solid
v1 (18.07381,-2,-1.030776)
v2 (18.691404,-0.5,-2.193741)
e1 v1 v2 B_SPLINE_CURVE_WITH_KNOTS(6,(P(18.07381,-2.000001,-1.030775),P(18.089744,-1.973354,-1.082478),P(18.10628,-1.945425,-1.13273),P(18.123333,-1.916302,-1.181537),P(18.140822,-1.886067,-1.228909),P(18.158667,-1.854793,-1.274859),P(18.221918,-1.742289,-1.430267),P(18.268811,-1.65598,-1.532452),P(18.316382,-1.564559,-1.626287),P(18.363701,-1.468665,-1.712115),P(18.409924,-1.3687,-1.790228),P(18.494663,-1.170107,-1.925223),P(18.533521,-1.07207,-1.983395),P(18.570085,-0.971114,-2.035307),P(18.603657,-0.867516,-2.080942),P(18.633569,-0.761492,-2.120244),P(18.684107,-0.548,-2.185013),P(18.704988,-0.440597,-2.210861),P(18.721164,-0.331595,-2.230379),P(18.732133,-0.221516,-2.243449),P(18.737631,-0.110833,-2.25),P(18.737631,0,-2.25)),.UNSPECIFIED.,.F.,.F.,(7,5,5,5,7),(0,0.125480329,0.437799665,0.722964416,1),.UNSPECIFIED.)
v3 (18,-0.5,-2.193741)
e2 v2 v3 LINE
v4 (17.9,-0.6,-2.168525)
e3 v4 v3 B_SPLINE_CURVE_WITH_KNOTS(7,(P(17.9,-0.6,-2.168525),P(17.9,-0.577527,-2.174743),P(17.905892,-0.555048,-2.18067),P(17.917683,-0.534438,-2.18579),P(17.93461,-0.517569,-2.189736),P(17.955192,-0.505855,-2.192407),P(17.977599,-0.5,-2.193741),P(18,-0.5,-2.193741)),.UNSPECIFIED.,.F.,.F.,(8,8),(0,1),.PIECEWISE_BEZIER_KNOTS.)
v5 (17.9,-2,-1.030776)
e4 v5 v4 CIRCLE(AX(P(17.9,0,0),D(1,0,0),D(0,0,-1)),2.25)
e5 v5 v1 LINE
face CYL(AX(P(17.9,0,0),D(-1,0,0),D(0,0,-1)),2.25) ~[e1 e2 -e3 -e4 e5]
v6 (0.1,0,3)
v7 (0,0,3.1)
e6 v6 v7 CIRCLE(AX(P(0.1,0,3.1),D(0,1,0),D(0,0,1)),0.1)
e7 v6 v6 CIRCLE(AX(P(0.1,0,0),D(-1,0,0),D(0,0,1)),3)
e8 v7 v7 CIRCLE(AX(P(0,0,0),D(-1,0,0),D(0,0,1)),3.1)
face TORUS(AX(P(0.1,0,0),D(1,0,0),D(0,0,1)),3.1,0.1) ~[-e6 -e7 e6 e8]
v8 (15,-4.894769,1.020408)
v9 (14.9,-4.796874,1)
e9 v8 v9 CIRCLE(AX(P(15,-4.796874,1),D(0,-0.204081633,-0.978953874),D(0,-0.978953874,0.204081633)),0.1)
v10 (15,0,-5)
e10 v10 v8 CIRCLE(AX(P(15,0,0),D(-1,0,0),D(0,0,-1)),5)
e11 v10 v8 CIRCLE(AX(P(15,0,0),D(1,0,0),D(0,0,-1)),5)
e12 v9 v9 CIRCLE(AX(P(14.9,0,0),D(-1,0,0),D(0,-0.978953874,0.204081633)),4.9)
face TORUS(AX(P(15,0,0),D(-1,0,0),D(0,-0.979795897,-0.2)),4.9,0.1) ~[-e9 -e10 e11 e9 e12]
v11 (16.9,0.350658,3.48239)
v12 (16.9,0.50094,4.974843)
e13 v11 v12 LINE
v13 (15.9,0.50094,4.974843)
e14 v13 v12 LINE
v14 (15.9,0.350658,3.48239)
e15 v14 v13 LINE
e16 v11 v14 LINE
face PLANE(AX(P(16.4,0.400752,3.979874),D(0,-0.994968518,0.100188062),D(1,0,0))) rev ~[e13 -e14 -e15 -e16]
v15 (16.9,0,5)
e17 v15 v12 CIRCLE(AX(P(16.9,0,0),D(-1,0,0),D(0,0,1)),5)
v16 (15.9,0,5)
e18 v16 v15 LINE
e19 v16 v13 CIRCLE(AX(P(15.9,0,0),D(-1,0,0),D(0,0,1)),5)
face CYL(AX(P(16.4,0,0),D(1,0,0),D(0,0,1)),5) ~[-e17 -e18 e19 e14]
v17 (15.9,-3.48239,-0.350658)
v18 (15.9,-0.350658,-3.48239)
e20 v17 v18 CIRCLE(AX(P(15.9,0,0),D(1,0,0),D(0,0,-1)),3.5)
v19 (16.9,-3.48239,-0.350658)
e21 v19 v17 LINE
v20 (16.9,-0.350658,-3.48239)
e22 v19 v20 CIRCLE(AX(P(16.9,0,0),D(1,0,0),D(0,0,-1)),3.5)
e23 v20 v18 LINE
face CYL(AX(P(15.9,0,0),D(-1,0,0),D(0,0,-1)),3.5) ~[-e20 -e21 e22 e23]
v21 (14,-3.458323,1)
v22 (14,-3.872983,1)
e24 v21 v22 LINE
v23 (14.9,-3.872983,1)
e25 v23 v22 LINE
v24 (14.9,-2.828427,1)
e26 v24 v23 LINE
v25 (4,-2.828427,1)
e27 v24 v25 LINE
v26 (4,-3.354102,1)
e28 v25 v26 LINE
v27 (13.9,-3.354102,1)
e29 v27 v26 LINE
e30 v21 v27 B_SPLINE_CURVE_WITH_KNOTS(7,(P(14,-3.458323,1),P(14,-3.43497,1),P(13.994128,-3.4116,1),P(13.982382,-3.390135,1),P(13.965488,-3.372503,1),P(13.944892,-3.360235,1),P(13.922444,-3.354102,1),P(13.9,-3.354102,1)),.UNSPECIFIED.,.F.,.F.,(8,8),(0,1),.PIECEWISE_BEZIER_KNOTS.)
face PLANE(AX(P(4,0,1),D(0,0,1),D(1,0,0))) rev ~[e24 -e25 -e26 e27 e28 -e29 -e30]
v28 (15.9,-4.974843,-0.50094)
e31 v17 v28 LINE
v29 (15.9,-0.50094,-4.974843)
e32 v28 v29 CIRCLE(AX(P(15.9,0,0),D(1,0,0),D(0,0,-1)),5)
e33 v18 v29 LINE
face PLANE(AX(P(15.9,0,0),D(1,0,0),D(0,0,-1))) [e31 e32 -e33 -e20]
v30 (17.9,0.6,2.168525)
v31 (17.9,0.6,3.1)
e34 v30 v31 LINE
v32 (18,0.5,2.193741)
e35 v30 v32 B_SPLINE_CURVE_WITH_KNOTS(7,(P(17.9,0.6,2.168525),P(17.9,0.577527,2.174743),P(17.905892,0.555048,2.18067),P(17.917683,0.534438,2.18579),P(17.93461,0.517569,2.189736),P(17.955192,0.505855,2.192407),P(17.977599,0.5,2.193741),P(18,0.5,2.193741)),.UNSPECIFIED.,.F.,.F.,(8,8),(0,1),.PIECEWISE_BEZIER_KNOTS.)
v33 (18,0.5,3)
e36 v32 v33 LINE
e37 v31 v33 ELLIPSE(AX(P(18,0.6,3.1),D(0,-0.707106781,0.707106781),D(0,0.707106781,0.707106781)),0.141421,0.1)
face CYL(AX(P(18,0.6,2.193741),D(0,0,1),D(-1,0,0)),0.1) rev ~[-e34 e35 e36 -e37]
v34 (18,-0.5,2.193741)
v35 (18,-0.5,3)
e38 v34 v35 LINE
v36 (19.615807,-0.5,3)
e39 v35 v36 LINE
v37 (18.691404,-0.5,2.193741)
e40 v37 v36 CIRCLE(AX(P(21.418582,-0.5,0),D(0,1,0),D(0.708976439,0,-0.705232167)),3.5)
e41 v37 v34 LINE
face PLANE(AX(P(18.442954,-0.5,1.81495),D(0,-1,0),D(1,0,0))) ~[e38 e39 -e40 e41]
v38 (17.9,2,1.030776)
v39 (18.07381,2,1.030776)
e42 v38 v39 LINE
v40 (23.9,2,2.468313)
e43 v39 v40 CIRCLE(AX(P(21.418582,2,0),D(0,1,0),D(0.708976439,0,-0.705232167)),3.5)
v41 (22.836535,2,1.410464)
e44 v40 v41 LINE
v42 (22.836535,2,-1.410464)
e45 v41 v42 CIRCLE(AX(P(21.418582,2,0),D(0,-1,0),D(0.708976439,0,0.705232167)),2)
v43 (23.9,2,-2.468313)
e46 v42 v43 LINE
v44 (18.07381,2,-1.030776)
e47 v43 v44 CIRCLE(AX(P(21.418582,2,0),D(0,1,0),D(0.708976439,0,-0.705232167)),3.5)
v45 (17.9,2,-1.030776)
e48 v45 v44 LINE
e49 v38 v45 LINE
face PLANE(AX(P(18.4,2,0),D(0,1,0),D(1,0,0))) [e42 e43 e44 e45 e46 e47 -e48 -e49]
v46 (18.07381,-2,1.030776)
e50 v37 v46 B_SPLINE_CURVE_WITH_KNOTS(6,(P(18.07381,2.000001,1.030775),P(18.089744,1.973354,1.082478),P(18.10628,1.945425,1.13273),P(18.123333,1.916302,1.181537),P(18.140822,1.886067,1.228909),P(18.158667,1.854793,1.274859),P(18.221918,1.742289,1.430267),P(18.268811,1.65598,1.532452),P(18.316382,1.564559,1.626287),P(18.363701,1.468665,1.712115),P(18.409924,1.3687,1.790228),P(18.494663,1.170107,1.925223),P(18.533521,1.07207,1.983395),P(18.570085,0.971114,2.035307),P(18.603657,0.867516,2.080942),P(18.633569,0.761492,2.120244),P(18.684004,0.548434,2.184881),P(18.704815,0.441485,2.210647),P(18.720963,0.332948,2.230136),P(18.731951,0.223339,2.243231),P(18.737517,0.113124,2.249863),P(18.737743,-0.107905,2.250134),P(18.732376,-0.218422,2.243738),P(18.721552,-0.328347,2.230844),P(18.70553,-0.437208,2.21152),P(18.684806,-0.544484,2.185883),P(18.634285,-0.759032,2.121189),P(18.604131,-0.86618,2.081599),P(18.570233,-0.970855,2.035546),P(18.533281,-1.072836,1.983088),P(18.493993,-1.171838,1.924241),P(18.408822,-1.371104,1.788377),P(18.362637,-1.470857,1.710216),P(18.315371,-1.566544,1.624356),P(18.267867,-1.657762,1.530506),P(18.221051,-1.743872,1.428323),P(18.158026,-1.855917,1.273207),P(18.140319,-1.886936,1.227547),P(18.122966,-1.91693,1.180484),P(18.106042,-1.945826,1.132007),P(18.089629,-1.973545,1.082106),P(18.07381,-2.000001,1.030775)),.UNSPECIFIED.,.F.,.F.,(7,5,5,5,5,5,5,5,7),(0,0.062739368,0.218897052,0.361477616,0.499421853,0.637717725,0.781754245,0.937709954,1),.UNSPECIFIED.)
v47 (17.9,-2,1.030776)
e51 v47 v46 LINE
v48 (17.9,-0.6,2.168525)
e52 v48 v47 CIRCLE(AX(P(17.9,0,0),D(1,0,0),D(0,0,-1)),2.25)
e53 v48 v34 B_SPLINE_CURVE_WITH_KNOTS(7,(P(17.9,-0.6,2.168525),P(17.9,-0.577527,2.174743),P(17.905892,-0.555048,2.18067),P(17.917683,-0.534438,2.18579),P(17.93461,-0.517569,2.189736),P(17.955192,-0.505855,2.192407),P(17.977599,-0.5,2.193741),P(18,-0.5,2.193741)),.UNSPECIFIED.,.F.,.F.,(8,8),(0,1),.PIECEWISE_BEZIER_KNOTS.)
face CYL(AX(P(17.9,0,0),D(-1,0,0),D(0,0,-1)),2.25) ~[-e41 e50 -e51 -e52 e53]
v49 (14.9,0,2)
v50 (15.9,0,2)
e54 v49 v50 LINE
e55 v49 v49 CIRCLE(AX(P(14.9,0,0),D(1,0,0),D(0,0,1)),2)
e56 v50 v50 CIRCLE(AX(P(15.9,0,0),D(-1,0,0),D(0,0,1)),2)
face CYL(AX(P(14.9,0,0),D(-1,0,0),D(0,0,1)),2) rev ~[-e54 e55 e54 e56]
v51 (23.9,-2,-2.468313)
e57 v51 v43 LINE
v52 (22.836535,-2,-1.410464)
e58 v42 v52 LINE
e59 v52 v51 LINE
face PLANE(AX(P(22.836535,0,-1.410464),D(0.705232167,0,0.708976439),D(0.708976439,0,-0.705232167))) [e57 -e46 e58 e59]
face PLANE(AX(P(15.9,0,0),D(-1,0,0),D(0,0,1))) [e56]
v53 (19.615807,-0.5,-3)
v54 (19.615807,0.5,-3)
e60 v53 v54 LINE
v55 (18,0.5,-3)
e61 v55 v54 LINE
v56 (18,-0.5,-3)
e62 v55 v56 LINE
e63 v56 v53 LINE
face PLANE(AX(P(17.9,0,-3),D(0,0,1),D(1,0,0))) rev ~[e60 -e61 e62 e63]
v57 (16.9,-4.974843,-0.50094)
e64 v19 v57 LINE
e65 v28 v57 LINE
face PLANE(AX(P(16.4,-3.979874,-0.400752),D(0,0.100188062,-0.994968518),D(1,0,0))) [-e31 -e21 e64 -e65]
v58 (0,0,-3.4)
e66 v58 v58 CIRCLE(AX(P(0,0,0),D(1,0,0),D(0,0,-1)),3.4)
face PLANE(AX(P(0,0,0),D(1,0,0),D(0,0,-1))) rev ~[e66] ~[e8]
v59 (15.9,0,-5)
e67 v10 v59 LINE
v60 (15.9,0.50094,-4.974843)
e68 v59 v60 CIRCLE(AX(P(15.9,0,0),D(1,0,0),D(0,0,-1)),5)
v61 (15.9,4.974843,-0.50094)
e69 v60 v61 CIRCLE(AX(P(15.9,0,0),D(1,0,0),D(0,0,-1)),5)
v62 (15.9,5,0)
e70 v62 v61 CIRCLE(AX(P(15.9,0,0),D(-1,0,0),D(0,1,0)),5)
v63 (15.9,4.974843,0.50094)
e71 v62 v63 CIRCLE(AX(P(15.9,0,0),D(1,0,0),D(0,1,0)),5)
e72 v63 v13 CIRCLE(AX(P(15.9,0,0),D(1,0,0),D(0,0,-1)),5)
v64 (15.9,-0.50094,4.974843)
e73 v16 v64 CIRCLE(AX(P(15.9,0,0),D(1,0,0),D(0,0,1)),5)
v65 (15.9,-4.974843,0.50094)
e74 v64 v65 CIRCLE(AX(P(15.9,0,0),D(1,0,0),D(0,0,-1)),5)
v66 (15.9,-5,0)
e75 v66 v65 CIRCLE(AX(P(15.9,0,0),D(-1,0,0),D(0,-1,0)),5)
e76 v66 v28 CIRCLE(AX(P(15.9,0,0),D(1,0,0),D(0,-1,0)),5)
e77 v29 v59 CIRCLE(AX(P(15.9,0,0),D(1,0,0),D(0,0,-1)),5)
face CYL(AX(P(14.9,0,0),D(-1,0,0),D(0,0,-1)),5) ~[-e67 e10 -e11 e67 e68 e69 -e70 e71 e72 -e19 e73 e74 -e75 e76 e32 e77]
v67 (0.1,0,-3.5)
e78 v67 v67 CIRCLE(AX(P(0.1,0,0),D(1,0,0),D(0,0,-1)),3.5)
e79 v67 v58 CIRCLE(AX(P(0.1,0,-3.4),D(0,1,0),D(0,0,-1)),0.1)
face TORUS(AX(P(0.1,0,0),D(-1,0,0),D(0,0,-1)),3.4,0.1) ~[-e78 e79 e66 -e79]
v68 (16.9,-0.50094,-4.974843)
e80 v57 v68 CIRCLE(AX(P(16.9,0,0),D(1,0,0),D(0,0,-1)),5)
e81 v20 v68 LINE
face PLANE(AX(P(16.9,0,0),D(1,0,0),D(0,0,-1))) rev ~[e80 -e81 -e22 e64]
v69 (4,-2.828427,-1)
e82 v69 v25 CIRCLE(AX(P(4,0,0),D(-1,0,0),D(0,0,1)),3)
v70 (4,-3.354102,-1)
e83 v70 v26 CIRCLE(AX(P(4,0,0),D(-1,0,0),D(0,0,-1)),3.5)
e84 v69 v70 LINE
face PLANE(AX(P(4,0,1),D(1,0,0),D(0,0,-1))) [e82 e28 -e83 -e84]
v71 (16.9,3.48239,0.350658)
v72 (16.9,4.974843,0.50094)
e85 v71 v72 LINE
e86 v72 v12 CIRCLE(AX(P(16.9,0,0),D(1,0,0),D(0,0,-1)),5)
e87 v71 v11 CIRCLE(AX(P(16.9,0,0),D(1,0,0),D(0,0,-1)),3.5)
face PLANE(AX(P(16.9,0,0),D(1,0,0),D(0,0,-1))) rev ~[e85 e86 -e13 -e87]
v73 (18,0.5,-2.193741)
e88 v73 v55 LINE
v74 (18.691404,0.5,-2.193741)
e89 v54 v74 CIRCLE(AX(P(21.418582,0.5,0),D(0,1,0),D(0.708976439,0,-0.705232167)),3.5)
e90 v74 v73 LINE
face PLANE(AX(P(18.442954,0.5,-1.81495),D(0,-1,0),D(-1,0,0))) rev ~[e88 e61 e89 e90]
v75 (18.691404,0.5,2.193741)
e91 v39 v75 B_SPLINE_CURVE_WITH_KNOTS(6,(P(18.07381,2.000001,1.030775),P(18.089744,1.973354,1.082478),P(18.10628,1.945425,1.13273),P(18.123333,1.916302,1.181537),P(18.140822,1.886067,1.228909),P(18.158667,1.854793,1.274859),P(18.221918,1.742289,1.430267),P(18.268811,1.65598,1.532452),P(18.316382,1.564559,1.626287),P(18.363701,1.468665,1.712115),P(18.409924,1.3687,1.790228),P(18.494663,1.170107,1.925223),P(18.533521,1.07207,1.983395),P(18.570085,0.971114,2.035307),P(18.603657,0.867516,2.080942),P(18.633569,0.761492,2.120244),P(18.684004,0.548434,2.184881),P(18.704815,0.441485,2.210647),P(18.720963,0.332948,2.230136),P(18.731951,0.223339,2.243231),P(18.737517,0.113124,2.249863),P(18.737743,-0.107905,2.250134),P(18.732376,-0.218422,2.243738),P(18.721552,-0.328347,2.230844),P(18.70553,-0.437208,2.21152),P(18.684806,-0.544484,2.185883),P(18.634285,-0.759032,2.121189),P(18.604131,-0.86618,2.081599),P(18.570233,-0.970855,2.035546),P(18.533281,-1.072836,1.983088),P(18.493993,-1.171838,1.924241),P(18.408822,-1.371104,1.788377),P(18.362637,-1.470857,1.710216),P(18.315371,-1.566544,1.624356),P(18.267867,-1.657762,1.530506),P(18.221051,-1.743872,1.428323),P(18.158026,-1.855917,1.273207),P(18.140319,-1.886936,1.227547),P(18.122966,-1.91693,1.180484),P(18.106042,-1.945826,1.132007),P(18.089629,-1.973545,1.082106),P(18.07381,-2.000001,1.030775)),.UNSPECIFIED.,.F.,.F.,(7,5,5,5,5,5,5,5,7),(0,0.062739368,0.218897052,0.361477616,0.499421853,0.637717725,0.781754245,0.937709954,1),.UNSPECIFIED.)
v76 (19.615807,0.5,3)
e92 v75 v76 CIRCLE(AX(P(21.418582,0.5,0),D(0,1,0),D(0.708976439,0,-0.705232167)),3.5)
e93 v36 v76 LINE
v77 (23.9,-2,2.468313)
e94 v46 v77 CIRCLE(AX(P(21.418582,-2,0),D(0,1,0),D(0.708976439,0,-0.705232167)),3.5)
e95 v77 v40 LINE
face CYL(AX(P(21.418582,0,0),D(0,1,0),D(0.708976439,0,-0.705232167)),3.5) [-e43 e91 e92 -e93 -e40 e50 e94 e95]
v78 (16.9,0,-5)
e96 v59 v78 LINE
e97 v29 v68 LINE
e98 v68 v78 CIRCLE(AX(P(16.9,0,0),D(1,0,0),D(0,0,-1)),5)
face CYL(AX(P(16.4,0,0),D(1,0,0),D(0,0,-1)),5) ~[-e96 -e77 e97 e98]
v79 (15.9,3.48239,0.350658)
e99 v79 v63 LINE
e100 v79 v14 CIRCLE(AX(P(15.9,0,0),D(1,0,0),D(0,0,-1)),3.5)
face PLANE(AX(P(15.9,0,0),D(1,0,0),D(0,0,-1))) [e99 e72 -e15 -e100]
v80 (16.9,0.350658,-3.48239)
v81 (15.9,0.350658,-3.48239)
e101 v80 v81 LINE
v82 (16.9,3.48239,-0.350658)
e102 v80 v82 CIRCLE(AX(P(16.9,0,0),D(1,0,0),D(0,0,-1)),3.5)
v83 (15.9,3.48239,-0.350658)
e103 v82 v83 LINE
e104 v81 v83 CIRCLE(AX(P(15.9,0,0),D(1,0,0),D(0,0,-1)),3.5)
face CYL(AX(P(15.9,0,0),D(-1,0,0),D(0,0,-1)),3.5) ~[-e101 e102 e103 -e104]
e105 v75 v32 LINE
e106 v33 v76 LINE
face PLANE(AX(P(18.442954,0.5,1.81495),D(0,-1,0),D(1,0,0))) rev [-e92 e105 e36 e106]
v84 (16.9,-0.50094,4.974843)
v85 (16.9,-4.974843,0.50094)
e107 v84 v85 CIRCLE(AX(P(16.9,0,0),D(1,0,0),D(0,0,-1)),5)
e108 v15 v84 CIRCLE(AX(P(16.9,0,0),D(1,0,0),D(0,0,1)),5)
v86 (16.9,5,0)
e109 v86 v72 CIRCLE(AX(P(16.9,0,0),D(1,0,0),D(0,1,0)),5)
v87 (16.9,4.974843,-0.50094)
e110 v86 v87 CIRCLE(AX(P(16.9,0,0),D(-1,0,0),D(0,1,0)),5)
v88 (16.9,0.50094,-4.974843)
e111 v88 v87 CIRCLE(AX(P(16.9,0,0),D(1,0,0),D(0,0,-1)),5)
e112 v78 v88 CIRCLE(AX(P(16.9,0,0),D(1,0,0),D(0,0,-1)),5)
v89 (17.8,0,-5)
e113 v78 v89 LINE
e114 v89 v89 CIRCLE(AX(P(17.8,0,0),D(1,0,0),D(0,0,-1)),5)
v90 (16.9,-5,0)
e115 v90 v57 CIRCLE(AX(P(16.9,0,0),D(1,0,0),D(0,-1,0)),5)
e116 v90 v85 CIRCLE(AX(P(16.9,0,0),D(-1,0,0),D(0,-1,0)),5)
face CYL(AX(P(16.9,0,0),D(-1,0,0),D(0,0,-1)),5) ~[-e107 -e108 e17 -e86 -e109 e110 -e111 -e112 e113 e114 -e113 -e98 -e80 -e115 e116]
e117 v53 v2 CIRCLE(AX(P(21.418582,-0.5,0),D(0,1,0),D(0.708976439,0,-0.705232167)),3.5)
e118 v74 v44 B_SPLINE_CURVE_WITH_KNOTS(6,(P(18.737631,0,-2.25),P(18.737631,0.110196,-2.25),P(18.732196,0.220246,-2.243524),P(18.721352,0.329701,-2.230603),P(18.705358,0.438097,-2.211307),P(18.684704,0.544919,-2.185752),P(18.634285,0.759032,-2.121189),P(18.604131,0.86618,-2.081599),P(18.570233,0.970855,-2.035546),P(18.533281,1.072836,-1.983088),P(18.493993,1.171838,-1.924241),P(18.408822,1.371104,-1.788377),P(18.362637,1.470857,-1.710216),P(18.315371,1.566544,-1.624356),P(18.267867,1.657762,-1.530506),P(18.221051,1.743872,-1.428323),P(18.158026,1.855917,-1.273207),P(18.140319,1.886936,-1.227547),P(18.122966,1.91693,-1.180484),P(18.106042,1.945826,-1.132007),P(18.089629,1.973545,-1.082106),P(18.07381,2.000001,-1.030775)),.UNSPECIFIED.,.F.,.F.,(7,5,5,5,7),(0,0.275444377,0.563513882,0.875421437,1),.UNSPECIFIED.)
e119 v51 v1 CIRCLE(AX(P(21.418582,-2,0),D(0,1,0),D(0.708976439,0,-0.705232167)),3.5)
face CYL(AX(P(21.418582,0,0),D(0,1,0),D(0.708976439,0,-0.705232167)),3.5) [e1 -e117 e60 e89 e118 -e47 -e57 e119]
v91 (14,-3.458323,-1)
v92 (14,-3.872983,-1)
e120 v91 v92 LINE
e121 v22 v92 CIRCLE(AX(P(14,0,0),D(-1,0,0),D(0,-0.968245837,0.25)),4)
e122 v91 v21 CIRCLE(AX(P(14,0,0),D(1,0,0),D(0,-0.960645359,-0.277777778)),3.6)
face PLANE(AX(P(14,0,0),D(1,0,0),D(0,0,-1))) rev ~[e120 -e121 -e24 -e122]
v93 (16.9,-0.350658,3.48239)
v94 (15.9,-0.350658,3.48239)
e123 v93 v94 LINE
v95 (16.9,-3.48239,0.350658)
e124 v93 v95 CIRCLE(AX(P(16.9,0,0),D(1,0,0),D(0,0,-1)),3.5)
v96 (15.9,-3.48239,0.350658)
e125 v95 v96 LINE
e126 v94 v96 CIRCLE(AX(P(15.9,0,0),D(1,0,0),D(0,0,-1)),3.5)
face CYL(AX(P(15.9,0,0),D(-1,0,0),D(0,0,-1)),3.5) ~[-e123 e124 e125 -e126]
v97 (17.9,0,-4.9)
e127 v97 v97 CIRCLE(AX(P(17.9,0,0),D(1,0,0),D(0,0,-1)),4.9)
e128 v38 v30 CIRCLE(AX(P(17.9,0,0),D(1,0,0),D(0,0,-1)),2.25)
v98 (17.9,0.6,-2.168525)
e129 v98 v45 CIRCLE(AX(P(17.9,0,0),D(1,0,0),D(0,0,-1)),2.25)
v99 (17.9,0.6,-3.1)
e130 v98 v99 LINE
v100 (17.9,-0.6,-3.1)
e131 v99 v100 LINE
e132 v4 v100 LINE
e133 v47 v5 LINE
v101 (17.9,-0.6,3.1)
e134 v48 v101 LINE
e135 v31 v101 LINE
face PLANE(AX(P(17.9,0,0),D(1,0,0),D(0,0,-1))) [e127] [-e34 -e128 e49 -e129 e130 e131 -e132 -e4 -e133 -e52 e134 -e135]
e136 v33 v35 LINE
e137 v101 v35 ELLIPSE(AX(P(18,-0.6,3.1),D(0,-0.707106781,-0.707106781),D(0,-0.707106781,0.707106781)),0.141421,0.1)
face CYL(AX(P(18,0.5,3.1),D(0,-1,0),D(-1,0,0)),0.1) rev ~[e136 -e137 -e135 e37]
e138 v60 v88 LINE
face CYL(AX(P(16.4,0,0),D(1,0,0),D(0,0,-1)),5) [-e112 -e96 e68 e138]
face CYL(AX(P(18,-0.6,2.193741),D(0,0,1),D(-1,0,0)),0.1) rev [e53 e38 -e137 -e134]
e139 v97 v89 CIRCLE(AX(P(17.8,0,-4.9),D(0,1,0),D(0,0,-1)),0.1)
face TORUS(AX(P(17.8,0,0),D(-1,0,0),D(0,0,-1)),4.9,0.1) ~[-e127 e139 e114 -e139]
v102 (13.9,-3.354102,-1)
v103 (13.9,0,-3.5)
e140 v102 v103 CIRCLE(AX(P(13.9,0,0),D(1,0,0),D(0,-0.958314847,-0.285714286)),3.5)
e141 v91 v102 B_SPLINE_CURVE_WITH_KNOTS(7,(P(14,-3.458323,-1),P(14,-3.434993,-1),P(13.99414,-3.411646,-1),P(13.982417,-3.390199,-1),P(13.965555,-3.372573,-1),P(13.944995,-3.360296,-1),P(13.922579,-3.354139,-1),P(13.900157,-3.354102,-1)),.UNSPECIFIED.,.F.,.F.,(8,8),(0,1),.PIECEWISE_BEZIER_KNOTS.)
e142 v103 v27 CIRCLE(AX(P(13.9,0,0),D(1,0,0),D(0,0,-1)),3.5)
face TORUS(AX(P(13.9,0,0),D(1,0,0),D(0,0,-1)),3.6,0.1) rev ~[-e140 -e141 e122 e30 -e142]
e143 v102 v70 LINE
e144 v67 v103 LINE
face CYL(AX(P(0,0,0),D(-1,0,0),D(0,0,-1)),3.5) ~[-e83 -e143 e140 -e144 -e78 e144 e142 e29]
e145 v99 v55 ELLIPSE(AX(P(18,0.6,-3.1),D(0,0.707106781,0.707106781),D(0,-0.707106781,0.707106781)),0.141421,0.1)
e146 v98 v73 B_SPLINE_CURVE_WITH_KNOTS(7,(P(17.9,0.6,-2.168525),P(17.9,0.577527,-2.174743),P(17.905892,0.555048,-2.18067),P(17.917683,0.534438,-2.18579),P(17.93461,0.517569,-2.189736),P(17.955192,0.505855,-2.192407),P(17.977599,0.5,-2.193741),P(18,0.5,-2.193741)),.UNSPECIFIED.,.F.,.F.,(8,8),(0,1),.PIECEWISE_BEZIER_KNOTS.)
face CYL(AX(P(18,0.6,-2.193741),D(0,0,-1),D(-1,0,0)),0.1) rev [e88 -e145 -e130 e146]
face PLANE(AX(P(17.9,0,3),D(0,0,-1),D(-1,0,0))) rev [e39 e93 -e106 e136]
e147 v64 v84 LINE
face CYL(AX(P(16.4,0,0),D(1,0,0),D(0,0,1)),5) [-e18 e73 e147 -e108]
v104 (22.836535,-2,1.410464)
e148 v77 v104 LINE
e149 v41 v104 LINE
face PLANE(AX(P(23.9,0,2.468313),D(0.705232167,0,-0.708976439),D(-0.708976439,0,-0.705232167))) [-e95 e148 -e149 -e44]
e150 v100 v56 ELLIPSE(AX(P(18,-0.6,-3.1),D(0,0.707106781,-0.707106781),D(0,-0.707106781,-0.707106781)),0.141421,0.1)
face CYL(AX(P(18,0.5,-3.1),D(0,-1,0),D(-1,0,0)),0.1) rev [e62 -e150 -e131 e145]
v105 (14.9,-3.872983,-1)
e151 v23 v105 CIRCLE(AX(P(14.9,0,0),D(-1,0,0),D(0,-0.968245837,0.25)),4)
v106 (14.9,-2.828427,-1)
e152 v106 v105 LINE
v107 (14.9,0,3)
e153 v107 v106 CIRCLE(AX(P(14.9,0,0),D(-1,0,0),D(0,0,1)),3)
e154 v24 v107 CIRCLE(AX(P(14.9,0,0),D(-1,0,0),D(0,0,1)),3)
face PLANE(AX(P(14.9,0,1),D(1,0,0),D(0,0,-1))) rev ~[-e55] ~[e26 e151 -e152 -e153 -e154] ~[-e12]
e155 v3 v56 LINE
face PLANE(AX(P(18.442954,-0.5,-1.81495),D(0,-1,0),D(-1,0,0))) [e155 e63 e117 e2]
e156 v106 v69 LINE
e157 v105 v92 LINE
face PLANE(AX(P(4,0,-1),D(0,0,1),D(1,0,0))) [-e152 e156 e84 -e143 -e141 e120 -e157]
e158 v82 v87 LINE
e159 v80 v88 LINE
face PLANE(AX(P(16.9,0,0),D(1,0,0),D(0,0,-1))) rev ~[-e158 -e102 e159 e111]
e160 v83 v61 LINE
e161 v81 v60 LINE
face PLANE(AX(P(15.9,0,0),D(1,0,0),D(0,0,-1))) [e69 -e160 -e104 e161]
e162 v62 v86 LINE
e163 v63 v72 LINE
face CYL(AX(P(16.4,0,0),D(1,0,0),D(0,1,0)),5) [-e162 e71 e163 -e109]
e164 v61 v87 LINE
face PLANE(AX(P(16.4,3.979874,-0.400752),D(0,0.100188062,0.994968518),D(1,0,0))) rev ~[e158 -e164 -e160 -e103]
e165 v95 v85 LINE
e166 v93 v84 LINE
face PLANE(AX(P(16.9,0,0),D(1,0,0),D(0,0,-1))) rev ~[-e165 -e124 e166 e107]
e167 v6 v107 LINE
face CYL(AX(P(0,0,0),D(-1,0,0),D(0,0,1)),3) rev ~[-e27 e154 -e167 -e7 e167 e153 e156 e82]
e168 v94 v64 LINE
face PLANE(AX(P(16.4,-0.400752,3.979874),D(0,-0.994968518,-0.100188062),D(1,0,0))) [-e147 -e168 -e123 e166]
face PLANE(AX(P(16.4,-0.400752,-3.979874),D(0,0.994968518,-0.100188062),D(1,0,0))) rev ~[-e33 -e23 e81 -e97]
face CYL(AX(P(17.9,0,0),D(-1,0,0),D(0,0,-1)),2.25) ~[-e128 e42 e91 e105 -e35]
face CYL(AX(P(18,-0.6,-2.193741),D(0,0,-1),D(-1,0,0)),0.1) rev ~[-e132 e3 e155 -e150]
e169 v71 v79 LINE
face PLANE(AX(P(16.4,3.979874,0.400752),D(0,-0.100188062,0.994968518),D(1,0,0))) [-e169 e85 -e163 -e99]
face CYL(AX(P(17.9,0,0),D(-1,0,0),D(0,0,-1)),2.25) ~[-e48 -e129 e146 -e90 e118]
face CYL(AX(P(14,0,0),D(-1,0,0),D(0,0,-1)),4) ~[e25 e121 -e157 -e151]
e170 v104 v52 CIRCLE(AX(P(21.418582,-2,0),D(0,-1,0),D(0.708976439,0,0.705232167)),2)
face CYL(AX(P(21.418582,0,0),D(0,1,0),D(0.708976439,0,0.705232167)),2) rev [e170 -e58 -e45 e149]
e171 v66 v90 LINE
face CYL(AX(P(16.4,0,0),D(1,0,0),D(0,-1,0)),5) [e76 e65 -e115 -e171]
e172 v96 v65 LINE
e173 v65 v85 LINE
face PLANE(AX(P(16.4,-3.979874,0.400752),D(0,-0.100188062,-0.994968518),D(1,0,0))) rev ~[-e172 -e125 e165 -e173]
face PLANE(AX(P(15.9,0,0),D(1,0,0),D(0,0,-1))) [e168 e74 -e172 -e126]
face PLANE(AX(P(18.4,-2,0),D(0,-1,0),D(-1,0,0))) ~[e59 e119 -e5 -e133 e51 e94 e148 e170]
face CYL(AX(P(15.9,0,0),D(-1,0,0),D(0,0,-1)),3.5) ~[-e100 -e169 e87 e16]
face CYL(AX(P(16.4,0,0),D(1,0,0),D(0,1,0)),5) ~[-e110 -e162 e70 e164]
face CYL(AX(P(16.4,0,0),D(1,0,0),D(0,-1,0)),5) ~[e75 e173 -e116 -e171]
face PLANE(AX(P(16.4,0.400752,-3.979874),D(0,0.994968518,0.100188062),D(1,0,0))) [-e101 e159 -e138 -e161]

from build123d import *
from build123d.topology import SkipClean

# Parameters (mm, degrees)
SCHIZZO1_R                    = 3.5
ESTRUSIONE_ESTRUSIONE1_DEPTH  = 14
SCHIZZO2_R                    = 4
ESTRUSIONE_ESTRUSIONE2_DEPTH  = 0.9
SCHIZZO3_R                    = 5
ESTRUSIONE_ESTRUSIONE3_DEPTH  = 1
SCHIZZO4_R                    = 3.5
ESTRUSIONE_ESTRUSIONE4_DEPTH  = 1
SCHIZZO5_R                    = 5
ESTRUSIONE_ESTRUSIONE5_DEPTH  = 1
SCHIZZO6_W                    = 1
SCHIZZO6_H                    = 2
RIVOLUZIONE1_ANGLE            = 11.5
RIPETIZIONECIRCOLARE1_COUNT   = 4
SCHIZZO8_R                    = 3
TAGLIO_ESTRUSIONE2_DEPTH      = 14.9
SCHIZZO10_W                   = 10.9
SCHIZZO10_H                   = 2
TAGLIO_ESTRUSIONE3_DEPTH      = 20.246038553
SCHIZZO11_R                   = 2
TAGLIO_ESTRUSIONE5_DEPTH      = 1
SCHIZZO12_R                   = 2.25
ESTRUSIONE_ESTRUSIONE14_DEPTH = 1
ESTRUSIONE_ESTRUSIONE18_DEPTH = 2
ESTRUSIONE_ESTRUSIONE15_DEPTH = 0.5
SCHIZZO15_W                   = 1
SCHIZZO15_H                   = 2.061552812
TAGLIO_ESTRUSIONE6_DEPTH      = 1
RACCORDO1_R                   = 0.1
RACCORDO4_R                   = 0.1
RACCORDO5_R                   = 0.1
RACCORDO6_R                   = 0.1
RACCORDO7_R                   = 0.1


with BuildPart() as part:
    # Schizzo1 → Estrusione-Estrusione1 (new body)
    with BuildSketch(Plane(origin=(0, 0, 0), x_dir=(0, 0, -1), z_dir=(1, 0, 0))):
        Circle(SCHIZZO1_R)
    extrude(amount=ESTRUSIONE_ESTRUSIONE1_DEPTH)

    # Schizzo2 → Estrusione-Estrusione2 (add)
    with BuildSketch(Plane(origin=(14, 0, 0), x_dir=(0, 0, -1), z_dir=(1, 0, 0))):
        Circle(SCHIZZO2_R)
    extrude(amount=ESTRUSIONE_ESTRUSIONE2_DEPTH)

    # Schizzo3 → Estrusione-Estrusione3 (add)
    with BuildSketch(Plane(origin=(14.9, 0, 0), x_dir=(0, 0, -1), z_dir=(1, 0, 0))):
        Circle(SCHIZZO3_R)
    extrude(amount=ESTRUSIONE_ESTRUSIONE3_DEPTH)

    # Schizzo4 → Estrusione-Estrusione4 (add)
    with BuildSketch(Plane(origin=(15.9, 0, 0), x_dir=(0, 0, -1), z_dir=(1, 0, 0))):
        Circle(SCHIZZO4_R)
    extrude(amount=ESTRUSIONE_ESTRUSIONE4_DEPTH)

    # Schizzo5 → Estrusione-Estrusione5 (add)
    with BuildSketch(Plane(origin=(16.9, 0, 0), x_dir=(0, 0, -1), z_dir=(1, 0, 0))):
        Circle(SCHIZZO5_R)
    extrude(amount=ESTRUSIONE_ESTRUSIONE5_DEPTH)

    # Schizzo6 → Rivoluzione1 (revolve, symmetric)
    with SkipClean():  # the faces are left unmerged after this step: merging them gives an invalid solid
        with BuildSketch(Plane(origin=(0, 0, 0), x_dir=(1, 0, 0), z_dir=(0, 1, 0))) as rivoluzione1_sk:
            with Locations((16.4, 4)):
                Rectangle(SCHIZZO6_W, SCHIZZO6_H)
        rivoluzione1 = revolve(axis=Axis((0, 0, 0), (1, 0, 0)), revolution_arc=RIVOLUZIONE1_ANGLE / 2)
        rivoluzione1 = rivoluzione1 + revolve(rivoluzione1_sk.sketch, axis=Axis((0, 0, 0), (-1, 0, 0)), revolution_arc=RIVOLUZIONE1_ANGLE / 2)

    # RipetizioneCircolare1: Rivoluzione1 ×4 about axis
    with SkipClean():  # the faces are left unmerged after this step: merging them gives an invalid solid
        ripetizionecircolare1_axis = Axis((0, 0, 0), (-1, 0, 0))
        for i in range(1, RIPETIZIONECIRCOLARE1_COUNT):
            add(rivoluzione1.rotate(ripetizionecircolare1_axis, i * 360 / RIPETIZIONECIRCOLARE1_COUNT))

    # Schizzo8 → Taglio-Estrusione2 (cut)
    with SkipClean():  # the faces are left unmerged after this step: merging them gives an invalid solid
        with BuildSketch(Plane.ZY):
            Circle(SCHIZZO8_R)
        extrude(amount=-TAGLIO_ESTRUSIONE2_DEPTH, mode=Mode.SUBTRACT)

    # Schizzo10 → Taglio-Estrusione3 (cut, through all)
    with SkipClean():  # the faces are left unmerged after this step: merging them gives an invalid solid
        with BuildSketch(Plane(origin=(0, 0, 0), x_dir=(1, 0, 0), z_dir=(0, 1, 0))):
            with Locations((9.45, 0)):
                Rectangle(SCHIZZO10_W, SCHIZZO10_H)
        extrude(amount=-TAGLIO_ESTRUSIONE3_DEPTH, mode=Mode.SUBTRACT)

    # Schizzo11 → Taglio-Estrusione5 (cut)
    with SkipClean():  # the faces are left unmerged after this step: merging them gives an invalid solid
        with BuildSketch(Plane.ZY.offset(-14.9)):
            Circle(SCHIZZO11_R)
        extrude(amount=-TAGLIO_ESTRUSIONE5_DEPTH, mode=Mode.SUBTRACT)

    # Schizzo12 → Estrusione-Estrusione14 (add)
    with SkipClean():  # the faces are left unmerged after this step: merging them gives an invalid solid
        with BuildSketch(Plane(origin=(17.9, 0, 0), x_dir=(0, 0, -1), z_dir=(1, 0, 0))):
            Circle(SCHIZZO12_R)
        extrude(amount=ESTRUSIONE_ESTRUSIONE14_DEPTH)

    # Schizzo13 → Estrusione-Estrusione18 (add, symmetric)
    with SkipClean():  # the faces are left unmerged after this step: merging them gives an invalid solid
        with BuildSketch(Plane(origin=(0, 0, 0), x_dir=(1, 0, 0), z_dir=(0, 1, 0))):
            with BuildLine():
                Line((22.836535342, 1.410464334), (23.9, 2.468312584))
                ThreePointArc((23.9, 2.468312584), (17.918582464, 0), (23.9, -2.468312584))
                Line((23.9, -2.468312584), (22.836535342, -1.410464334))
                ThreePointArc((22.836535342, -1.410464334), (19.418582464, 0), (22.836535342, 1.410464334))
            make_face()
        extrude(amount=ESTRUSIONE_ESTRUSIONE18_DEPTH, both=True)

    # Schizzo14 → Estrusione-Estrusione15 (add, symmetric)
    with SkipClean():  # the faces are left unmerged after this step: merging them gives an invalid solid
        with BuildSketch(Plane(origin=(0, 0, 0), x_dir=(1, 0, 0), z_dir=(0, 1, 0))):
            Polygon((17.9, 0), (17.9, 3), (19.615806827, 3), align=None)
        estrusione_estrusione15 = extrude(amount=ESTRUSIONE_ESTRUSIONE15_DEPTH, both=True)

    # Specchia2: Estrusione-Estrusione15 across plane
    with SkipClean():  # the faces are left unmerged after this step: merging them gives an invalid solid
        add(estrusione_estrusione15.mirror(Plane.XY))

    # Schizzo15 → Taglio-Estrusione6 (cut)
    with SkipClean():  # the faces are left unmerged after this step: merging them gives an invalid solid
        with BuildSketch(Plane(origin=(0, 2, 0), x_dir=(1, 0, 0), z_dir=(0, 1, 0))):
            with Locations((18.4, 0)):
                Rectangle(SCHIZZO15_W, SCHIZZO15_H)
        taglio_estrusione6 = extrude(amount=TAGLIO_ESTRUSIONE6_DEPTH, mode=Mode.SUBTRACT)

    # Specchia3: Taglio-Estrusione6 across plane
    with SkipClean():  # the faces are left unmerged after this step: merging them gives an invalid solid
        add(taglio_estrusione6.mirror(Plane.ZX), mode=Mode.SUBTRACT)

    # Raccordo1
    raccordo1_edges = [part.edges().sort_by_distance(p)[0] for p in [
        (17.9, 0, 5),
        (14.9, 3.872983346, 3.16227766),
    ]]
    fillet(raccordo1_edges, radius=RACCORDO1_R)

    # Raccordo4
    raccordo4_edges = [part.edges().sort_by_distance(p)[0] for p in [
        (17.9, -0.5, -2.596870548),
        (17.9, 0, -3),
        (17.9, 0.5, -2.596870548),
        (17.9, 0.5, 2.596870548),
        (17.9, 0, 3),
        (17.9, -0.5, 2.596870548),
    ]]
    fillet(raccordo4_edges, radius=RACCORDO4_R)

    # Raccordo5
    raccordo5_edges = [part.edges().sort_by_distance(p)[0] for p in [
        (0, 0, 3.5),
    ]]
    fillet(raccordo5_edges, radius=RACCORDO5_R)

    # Raccordo6
    raccordo6_edges = [part.edges().sort_by_distance(p)[0] for p in [
        (0, 0, -3),
    ]]
    fillet(raccordo6_edges, radius=RACCORDO6_R)

    # Raccordo7
    raccordo7_edges = [part.edges().sort_by_distance(p)[0] for p in [
        (14, 2.80624304, 2.091650066),
    ]]
    fillet(raccordo7_edges, radius=RACCORDO7_R)


solid = part.part
